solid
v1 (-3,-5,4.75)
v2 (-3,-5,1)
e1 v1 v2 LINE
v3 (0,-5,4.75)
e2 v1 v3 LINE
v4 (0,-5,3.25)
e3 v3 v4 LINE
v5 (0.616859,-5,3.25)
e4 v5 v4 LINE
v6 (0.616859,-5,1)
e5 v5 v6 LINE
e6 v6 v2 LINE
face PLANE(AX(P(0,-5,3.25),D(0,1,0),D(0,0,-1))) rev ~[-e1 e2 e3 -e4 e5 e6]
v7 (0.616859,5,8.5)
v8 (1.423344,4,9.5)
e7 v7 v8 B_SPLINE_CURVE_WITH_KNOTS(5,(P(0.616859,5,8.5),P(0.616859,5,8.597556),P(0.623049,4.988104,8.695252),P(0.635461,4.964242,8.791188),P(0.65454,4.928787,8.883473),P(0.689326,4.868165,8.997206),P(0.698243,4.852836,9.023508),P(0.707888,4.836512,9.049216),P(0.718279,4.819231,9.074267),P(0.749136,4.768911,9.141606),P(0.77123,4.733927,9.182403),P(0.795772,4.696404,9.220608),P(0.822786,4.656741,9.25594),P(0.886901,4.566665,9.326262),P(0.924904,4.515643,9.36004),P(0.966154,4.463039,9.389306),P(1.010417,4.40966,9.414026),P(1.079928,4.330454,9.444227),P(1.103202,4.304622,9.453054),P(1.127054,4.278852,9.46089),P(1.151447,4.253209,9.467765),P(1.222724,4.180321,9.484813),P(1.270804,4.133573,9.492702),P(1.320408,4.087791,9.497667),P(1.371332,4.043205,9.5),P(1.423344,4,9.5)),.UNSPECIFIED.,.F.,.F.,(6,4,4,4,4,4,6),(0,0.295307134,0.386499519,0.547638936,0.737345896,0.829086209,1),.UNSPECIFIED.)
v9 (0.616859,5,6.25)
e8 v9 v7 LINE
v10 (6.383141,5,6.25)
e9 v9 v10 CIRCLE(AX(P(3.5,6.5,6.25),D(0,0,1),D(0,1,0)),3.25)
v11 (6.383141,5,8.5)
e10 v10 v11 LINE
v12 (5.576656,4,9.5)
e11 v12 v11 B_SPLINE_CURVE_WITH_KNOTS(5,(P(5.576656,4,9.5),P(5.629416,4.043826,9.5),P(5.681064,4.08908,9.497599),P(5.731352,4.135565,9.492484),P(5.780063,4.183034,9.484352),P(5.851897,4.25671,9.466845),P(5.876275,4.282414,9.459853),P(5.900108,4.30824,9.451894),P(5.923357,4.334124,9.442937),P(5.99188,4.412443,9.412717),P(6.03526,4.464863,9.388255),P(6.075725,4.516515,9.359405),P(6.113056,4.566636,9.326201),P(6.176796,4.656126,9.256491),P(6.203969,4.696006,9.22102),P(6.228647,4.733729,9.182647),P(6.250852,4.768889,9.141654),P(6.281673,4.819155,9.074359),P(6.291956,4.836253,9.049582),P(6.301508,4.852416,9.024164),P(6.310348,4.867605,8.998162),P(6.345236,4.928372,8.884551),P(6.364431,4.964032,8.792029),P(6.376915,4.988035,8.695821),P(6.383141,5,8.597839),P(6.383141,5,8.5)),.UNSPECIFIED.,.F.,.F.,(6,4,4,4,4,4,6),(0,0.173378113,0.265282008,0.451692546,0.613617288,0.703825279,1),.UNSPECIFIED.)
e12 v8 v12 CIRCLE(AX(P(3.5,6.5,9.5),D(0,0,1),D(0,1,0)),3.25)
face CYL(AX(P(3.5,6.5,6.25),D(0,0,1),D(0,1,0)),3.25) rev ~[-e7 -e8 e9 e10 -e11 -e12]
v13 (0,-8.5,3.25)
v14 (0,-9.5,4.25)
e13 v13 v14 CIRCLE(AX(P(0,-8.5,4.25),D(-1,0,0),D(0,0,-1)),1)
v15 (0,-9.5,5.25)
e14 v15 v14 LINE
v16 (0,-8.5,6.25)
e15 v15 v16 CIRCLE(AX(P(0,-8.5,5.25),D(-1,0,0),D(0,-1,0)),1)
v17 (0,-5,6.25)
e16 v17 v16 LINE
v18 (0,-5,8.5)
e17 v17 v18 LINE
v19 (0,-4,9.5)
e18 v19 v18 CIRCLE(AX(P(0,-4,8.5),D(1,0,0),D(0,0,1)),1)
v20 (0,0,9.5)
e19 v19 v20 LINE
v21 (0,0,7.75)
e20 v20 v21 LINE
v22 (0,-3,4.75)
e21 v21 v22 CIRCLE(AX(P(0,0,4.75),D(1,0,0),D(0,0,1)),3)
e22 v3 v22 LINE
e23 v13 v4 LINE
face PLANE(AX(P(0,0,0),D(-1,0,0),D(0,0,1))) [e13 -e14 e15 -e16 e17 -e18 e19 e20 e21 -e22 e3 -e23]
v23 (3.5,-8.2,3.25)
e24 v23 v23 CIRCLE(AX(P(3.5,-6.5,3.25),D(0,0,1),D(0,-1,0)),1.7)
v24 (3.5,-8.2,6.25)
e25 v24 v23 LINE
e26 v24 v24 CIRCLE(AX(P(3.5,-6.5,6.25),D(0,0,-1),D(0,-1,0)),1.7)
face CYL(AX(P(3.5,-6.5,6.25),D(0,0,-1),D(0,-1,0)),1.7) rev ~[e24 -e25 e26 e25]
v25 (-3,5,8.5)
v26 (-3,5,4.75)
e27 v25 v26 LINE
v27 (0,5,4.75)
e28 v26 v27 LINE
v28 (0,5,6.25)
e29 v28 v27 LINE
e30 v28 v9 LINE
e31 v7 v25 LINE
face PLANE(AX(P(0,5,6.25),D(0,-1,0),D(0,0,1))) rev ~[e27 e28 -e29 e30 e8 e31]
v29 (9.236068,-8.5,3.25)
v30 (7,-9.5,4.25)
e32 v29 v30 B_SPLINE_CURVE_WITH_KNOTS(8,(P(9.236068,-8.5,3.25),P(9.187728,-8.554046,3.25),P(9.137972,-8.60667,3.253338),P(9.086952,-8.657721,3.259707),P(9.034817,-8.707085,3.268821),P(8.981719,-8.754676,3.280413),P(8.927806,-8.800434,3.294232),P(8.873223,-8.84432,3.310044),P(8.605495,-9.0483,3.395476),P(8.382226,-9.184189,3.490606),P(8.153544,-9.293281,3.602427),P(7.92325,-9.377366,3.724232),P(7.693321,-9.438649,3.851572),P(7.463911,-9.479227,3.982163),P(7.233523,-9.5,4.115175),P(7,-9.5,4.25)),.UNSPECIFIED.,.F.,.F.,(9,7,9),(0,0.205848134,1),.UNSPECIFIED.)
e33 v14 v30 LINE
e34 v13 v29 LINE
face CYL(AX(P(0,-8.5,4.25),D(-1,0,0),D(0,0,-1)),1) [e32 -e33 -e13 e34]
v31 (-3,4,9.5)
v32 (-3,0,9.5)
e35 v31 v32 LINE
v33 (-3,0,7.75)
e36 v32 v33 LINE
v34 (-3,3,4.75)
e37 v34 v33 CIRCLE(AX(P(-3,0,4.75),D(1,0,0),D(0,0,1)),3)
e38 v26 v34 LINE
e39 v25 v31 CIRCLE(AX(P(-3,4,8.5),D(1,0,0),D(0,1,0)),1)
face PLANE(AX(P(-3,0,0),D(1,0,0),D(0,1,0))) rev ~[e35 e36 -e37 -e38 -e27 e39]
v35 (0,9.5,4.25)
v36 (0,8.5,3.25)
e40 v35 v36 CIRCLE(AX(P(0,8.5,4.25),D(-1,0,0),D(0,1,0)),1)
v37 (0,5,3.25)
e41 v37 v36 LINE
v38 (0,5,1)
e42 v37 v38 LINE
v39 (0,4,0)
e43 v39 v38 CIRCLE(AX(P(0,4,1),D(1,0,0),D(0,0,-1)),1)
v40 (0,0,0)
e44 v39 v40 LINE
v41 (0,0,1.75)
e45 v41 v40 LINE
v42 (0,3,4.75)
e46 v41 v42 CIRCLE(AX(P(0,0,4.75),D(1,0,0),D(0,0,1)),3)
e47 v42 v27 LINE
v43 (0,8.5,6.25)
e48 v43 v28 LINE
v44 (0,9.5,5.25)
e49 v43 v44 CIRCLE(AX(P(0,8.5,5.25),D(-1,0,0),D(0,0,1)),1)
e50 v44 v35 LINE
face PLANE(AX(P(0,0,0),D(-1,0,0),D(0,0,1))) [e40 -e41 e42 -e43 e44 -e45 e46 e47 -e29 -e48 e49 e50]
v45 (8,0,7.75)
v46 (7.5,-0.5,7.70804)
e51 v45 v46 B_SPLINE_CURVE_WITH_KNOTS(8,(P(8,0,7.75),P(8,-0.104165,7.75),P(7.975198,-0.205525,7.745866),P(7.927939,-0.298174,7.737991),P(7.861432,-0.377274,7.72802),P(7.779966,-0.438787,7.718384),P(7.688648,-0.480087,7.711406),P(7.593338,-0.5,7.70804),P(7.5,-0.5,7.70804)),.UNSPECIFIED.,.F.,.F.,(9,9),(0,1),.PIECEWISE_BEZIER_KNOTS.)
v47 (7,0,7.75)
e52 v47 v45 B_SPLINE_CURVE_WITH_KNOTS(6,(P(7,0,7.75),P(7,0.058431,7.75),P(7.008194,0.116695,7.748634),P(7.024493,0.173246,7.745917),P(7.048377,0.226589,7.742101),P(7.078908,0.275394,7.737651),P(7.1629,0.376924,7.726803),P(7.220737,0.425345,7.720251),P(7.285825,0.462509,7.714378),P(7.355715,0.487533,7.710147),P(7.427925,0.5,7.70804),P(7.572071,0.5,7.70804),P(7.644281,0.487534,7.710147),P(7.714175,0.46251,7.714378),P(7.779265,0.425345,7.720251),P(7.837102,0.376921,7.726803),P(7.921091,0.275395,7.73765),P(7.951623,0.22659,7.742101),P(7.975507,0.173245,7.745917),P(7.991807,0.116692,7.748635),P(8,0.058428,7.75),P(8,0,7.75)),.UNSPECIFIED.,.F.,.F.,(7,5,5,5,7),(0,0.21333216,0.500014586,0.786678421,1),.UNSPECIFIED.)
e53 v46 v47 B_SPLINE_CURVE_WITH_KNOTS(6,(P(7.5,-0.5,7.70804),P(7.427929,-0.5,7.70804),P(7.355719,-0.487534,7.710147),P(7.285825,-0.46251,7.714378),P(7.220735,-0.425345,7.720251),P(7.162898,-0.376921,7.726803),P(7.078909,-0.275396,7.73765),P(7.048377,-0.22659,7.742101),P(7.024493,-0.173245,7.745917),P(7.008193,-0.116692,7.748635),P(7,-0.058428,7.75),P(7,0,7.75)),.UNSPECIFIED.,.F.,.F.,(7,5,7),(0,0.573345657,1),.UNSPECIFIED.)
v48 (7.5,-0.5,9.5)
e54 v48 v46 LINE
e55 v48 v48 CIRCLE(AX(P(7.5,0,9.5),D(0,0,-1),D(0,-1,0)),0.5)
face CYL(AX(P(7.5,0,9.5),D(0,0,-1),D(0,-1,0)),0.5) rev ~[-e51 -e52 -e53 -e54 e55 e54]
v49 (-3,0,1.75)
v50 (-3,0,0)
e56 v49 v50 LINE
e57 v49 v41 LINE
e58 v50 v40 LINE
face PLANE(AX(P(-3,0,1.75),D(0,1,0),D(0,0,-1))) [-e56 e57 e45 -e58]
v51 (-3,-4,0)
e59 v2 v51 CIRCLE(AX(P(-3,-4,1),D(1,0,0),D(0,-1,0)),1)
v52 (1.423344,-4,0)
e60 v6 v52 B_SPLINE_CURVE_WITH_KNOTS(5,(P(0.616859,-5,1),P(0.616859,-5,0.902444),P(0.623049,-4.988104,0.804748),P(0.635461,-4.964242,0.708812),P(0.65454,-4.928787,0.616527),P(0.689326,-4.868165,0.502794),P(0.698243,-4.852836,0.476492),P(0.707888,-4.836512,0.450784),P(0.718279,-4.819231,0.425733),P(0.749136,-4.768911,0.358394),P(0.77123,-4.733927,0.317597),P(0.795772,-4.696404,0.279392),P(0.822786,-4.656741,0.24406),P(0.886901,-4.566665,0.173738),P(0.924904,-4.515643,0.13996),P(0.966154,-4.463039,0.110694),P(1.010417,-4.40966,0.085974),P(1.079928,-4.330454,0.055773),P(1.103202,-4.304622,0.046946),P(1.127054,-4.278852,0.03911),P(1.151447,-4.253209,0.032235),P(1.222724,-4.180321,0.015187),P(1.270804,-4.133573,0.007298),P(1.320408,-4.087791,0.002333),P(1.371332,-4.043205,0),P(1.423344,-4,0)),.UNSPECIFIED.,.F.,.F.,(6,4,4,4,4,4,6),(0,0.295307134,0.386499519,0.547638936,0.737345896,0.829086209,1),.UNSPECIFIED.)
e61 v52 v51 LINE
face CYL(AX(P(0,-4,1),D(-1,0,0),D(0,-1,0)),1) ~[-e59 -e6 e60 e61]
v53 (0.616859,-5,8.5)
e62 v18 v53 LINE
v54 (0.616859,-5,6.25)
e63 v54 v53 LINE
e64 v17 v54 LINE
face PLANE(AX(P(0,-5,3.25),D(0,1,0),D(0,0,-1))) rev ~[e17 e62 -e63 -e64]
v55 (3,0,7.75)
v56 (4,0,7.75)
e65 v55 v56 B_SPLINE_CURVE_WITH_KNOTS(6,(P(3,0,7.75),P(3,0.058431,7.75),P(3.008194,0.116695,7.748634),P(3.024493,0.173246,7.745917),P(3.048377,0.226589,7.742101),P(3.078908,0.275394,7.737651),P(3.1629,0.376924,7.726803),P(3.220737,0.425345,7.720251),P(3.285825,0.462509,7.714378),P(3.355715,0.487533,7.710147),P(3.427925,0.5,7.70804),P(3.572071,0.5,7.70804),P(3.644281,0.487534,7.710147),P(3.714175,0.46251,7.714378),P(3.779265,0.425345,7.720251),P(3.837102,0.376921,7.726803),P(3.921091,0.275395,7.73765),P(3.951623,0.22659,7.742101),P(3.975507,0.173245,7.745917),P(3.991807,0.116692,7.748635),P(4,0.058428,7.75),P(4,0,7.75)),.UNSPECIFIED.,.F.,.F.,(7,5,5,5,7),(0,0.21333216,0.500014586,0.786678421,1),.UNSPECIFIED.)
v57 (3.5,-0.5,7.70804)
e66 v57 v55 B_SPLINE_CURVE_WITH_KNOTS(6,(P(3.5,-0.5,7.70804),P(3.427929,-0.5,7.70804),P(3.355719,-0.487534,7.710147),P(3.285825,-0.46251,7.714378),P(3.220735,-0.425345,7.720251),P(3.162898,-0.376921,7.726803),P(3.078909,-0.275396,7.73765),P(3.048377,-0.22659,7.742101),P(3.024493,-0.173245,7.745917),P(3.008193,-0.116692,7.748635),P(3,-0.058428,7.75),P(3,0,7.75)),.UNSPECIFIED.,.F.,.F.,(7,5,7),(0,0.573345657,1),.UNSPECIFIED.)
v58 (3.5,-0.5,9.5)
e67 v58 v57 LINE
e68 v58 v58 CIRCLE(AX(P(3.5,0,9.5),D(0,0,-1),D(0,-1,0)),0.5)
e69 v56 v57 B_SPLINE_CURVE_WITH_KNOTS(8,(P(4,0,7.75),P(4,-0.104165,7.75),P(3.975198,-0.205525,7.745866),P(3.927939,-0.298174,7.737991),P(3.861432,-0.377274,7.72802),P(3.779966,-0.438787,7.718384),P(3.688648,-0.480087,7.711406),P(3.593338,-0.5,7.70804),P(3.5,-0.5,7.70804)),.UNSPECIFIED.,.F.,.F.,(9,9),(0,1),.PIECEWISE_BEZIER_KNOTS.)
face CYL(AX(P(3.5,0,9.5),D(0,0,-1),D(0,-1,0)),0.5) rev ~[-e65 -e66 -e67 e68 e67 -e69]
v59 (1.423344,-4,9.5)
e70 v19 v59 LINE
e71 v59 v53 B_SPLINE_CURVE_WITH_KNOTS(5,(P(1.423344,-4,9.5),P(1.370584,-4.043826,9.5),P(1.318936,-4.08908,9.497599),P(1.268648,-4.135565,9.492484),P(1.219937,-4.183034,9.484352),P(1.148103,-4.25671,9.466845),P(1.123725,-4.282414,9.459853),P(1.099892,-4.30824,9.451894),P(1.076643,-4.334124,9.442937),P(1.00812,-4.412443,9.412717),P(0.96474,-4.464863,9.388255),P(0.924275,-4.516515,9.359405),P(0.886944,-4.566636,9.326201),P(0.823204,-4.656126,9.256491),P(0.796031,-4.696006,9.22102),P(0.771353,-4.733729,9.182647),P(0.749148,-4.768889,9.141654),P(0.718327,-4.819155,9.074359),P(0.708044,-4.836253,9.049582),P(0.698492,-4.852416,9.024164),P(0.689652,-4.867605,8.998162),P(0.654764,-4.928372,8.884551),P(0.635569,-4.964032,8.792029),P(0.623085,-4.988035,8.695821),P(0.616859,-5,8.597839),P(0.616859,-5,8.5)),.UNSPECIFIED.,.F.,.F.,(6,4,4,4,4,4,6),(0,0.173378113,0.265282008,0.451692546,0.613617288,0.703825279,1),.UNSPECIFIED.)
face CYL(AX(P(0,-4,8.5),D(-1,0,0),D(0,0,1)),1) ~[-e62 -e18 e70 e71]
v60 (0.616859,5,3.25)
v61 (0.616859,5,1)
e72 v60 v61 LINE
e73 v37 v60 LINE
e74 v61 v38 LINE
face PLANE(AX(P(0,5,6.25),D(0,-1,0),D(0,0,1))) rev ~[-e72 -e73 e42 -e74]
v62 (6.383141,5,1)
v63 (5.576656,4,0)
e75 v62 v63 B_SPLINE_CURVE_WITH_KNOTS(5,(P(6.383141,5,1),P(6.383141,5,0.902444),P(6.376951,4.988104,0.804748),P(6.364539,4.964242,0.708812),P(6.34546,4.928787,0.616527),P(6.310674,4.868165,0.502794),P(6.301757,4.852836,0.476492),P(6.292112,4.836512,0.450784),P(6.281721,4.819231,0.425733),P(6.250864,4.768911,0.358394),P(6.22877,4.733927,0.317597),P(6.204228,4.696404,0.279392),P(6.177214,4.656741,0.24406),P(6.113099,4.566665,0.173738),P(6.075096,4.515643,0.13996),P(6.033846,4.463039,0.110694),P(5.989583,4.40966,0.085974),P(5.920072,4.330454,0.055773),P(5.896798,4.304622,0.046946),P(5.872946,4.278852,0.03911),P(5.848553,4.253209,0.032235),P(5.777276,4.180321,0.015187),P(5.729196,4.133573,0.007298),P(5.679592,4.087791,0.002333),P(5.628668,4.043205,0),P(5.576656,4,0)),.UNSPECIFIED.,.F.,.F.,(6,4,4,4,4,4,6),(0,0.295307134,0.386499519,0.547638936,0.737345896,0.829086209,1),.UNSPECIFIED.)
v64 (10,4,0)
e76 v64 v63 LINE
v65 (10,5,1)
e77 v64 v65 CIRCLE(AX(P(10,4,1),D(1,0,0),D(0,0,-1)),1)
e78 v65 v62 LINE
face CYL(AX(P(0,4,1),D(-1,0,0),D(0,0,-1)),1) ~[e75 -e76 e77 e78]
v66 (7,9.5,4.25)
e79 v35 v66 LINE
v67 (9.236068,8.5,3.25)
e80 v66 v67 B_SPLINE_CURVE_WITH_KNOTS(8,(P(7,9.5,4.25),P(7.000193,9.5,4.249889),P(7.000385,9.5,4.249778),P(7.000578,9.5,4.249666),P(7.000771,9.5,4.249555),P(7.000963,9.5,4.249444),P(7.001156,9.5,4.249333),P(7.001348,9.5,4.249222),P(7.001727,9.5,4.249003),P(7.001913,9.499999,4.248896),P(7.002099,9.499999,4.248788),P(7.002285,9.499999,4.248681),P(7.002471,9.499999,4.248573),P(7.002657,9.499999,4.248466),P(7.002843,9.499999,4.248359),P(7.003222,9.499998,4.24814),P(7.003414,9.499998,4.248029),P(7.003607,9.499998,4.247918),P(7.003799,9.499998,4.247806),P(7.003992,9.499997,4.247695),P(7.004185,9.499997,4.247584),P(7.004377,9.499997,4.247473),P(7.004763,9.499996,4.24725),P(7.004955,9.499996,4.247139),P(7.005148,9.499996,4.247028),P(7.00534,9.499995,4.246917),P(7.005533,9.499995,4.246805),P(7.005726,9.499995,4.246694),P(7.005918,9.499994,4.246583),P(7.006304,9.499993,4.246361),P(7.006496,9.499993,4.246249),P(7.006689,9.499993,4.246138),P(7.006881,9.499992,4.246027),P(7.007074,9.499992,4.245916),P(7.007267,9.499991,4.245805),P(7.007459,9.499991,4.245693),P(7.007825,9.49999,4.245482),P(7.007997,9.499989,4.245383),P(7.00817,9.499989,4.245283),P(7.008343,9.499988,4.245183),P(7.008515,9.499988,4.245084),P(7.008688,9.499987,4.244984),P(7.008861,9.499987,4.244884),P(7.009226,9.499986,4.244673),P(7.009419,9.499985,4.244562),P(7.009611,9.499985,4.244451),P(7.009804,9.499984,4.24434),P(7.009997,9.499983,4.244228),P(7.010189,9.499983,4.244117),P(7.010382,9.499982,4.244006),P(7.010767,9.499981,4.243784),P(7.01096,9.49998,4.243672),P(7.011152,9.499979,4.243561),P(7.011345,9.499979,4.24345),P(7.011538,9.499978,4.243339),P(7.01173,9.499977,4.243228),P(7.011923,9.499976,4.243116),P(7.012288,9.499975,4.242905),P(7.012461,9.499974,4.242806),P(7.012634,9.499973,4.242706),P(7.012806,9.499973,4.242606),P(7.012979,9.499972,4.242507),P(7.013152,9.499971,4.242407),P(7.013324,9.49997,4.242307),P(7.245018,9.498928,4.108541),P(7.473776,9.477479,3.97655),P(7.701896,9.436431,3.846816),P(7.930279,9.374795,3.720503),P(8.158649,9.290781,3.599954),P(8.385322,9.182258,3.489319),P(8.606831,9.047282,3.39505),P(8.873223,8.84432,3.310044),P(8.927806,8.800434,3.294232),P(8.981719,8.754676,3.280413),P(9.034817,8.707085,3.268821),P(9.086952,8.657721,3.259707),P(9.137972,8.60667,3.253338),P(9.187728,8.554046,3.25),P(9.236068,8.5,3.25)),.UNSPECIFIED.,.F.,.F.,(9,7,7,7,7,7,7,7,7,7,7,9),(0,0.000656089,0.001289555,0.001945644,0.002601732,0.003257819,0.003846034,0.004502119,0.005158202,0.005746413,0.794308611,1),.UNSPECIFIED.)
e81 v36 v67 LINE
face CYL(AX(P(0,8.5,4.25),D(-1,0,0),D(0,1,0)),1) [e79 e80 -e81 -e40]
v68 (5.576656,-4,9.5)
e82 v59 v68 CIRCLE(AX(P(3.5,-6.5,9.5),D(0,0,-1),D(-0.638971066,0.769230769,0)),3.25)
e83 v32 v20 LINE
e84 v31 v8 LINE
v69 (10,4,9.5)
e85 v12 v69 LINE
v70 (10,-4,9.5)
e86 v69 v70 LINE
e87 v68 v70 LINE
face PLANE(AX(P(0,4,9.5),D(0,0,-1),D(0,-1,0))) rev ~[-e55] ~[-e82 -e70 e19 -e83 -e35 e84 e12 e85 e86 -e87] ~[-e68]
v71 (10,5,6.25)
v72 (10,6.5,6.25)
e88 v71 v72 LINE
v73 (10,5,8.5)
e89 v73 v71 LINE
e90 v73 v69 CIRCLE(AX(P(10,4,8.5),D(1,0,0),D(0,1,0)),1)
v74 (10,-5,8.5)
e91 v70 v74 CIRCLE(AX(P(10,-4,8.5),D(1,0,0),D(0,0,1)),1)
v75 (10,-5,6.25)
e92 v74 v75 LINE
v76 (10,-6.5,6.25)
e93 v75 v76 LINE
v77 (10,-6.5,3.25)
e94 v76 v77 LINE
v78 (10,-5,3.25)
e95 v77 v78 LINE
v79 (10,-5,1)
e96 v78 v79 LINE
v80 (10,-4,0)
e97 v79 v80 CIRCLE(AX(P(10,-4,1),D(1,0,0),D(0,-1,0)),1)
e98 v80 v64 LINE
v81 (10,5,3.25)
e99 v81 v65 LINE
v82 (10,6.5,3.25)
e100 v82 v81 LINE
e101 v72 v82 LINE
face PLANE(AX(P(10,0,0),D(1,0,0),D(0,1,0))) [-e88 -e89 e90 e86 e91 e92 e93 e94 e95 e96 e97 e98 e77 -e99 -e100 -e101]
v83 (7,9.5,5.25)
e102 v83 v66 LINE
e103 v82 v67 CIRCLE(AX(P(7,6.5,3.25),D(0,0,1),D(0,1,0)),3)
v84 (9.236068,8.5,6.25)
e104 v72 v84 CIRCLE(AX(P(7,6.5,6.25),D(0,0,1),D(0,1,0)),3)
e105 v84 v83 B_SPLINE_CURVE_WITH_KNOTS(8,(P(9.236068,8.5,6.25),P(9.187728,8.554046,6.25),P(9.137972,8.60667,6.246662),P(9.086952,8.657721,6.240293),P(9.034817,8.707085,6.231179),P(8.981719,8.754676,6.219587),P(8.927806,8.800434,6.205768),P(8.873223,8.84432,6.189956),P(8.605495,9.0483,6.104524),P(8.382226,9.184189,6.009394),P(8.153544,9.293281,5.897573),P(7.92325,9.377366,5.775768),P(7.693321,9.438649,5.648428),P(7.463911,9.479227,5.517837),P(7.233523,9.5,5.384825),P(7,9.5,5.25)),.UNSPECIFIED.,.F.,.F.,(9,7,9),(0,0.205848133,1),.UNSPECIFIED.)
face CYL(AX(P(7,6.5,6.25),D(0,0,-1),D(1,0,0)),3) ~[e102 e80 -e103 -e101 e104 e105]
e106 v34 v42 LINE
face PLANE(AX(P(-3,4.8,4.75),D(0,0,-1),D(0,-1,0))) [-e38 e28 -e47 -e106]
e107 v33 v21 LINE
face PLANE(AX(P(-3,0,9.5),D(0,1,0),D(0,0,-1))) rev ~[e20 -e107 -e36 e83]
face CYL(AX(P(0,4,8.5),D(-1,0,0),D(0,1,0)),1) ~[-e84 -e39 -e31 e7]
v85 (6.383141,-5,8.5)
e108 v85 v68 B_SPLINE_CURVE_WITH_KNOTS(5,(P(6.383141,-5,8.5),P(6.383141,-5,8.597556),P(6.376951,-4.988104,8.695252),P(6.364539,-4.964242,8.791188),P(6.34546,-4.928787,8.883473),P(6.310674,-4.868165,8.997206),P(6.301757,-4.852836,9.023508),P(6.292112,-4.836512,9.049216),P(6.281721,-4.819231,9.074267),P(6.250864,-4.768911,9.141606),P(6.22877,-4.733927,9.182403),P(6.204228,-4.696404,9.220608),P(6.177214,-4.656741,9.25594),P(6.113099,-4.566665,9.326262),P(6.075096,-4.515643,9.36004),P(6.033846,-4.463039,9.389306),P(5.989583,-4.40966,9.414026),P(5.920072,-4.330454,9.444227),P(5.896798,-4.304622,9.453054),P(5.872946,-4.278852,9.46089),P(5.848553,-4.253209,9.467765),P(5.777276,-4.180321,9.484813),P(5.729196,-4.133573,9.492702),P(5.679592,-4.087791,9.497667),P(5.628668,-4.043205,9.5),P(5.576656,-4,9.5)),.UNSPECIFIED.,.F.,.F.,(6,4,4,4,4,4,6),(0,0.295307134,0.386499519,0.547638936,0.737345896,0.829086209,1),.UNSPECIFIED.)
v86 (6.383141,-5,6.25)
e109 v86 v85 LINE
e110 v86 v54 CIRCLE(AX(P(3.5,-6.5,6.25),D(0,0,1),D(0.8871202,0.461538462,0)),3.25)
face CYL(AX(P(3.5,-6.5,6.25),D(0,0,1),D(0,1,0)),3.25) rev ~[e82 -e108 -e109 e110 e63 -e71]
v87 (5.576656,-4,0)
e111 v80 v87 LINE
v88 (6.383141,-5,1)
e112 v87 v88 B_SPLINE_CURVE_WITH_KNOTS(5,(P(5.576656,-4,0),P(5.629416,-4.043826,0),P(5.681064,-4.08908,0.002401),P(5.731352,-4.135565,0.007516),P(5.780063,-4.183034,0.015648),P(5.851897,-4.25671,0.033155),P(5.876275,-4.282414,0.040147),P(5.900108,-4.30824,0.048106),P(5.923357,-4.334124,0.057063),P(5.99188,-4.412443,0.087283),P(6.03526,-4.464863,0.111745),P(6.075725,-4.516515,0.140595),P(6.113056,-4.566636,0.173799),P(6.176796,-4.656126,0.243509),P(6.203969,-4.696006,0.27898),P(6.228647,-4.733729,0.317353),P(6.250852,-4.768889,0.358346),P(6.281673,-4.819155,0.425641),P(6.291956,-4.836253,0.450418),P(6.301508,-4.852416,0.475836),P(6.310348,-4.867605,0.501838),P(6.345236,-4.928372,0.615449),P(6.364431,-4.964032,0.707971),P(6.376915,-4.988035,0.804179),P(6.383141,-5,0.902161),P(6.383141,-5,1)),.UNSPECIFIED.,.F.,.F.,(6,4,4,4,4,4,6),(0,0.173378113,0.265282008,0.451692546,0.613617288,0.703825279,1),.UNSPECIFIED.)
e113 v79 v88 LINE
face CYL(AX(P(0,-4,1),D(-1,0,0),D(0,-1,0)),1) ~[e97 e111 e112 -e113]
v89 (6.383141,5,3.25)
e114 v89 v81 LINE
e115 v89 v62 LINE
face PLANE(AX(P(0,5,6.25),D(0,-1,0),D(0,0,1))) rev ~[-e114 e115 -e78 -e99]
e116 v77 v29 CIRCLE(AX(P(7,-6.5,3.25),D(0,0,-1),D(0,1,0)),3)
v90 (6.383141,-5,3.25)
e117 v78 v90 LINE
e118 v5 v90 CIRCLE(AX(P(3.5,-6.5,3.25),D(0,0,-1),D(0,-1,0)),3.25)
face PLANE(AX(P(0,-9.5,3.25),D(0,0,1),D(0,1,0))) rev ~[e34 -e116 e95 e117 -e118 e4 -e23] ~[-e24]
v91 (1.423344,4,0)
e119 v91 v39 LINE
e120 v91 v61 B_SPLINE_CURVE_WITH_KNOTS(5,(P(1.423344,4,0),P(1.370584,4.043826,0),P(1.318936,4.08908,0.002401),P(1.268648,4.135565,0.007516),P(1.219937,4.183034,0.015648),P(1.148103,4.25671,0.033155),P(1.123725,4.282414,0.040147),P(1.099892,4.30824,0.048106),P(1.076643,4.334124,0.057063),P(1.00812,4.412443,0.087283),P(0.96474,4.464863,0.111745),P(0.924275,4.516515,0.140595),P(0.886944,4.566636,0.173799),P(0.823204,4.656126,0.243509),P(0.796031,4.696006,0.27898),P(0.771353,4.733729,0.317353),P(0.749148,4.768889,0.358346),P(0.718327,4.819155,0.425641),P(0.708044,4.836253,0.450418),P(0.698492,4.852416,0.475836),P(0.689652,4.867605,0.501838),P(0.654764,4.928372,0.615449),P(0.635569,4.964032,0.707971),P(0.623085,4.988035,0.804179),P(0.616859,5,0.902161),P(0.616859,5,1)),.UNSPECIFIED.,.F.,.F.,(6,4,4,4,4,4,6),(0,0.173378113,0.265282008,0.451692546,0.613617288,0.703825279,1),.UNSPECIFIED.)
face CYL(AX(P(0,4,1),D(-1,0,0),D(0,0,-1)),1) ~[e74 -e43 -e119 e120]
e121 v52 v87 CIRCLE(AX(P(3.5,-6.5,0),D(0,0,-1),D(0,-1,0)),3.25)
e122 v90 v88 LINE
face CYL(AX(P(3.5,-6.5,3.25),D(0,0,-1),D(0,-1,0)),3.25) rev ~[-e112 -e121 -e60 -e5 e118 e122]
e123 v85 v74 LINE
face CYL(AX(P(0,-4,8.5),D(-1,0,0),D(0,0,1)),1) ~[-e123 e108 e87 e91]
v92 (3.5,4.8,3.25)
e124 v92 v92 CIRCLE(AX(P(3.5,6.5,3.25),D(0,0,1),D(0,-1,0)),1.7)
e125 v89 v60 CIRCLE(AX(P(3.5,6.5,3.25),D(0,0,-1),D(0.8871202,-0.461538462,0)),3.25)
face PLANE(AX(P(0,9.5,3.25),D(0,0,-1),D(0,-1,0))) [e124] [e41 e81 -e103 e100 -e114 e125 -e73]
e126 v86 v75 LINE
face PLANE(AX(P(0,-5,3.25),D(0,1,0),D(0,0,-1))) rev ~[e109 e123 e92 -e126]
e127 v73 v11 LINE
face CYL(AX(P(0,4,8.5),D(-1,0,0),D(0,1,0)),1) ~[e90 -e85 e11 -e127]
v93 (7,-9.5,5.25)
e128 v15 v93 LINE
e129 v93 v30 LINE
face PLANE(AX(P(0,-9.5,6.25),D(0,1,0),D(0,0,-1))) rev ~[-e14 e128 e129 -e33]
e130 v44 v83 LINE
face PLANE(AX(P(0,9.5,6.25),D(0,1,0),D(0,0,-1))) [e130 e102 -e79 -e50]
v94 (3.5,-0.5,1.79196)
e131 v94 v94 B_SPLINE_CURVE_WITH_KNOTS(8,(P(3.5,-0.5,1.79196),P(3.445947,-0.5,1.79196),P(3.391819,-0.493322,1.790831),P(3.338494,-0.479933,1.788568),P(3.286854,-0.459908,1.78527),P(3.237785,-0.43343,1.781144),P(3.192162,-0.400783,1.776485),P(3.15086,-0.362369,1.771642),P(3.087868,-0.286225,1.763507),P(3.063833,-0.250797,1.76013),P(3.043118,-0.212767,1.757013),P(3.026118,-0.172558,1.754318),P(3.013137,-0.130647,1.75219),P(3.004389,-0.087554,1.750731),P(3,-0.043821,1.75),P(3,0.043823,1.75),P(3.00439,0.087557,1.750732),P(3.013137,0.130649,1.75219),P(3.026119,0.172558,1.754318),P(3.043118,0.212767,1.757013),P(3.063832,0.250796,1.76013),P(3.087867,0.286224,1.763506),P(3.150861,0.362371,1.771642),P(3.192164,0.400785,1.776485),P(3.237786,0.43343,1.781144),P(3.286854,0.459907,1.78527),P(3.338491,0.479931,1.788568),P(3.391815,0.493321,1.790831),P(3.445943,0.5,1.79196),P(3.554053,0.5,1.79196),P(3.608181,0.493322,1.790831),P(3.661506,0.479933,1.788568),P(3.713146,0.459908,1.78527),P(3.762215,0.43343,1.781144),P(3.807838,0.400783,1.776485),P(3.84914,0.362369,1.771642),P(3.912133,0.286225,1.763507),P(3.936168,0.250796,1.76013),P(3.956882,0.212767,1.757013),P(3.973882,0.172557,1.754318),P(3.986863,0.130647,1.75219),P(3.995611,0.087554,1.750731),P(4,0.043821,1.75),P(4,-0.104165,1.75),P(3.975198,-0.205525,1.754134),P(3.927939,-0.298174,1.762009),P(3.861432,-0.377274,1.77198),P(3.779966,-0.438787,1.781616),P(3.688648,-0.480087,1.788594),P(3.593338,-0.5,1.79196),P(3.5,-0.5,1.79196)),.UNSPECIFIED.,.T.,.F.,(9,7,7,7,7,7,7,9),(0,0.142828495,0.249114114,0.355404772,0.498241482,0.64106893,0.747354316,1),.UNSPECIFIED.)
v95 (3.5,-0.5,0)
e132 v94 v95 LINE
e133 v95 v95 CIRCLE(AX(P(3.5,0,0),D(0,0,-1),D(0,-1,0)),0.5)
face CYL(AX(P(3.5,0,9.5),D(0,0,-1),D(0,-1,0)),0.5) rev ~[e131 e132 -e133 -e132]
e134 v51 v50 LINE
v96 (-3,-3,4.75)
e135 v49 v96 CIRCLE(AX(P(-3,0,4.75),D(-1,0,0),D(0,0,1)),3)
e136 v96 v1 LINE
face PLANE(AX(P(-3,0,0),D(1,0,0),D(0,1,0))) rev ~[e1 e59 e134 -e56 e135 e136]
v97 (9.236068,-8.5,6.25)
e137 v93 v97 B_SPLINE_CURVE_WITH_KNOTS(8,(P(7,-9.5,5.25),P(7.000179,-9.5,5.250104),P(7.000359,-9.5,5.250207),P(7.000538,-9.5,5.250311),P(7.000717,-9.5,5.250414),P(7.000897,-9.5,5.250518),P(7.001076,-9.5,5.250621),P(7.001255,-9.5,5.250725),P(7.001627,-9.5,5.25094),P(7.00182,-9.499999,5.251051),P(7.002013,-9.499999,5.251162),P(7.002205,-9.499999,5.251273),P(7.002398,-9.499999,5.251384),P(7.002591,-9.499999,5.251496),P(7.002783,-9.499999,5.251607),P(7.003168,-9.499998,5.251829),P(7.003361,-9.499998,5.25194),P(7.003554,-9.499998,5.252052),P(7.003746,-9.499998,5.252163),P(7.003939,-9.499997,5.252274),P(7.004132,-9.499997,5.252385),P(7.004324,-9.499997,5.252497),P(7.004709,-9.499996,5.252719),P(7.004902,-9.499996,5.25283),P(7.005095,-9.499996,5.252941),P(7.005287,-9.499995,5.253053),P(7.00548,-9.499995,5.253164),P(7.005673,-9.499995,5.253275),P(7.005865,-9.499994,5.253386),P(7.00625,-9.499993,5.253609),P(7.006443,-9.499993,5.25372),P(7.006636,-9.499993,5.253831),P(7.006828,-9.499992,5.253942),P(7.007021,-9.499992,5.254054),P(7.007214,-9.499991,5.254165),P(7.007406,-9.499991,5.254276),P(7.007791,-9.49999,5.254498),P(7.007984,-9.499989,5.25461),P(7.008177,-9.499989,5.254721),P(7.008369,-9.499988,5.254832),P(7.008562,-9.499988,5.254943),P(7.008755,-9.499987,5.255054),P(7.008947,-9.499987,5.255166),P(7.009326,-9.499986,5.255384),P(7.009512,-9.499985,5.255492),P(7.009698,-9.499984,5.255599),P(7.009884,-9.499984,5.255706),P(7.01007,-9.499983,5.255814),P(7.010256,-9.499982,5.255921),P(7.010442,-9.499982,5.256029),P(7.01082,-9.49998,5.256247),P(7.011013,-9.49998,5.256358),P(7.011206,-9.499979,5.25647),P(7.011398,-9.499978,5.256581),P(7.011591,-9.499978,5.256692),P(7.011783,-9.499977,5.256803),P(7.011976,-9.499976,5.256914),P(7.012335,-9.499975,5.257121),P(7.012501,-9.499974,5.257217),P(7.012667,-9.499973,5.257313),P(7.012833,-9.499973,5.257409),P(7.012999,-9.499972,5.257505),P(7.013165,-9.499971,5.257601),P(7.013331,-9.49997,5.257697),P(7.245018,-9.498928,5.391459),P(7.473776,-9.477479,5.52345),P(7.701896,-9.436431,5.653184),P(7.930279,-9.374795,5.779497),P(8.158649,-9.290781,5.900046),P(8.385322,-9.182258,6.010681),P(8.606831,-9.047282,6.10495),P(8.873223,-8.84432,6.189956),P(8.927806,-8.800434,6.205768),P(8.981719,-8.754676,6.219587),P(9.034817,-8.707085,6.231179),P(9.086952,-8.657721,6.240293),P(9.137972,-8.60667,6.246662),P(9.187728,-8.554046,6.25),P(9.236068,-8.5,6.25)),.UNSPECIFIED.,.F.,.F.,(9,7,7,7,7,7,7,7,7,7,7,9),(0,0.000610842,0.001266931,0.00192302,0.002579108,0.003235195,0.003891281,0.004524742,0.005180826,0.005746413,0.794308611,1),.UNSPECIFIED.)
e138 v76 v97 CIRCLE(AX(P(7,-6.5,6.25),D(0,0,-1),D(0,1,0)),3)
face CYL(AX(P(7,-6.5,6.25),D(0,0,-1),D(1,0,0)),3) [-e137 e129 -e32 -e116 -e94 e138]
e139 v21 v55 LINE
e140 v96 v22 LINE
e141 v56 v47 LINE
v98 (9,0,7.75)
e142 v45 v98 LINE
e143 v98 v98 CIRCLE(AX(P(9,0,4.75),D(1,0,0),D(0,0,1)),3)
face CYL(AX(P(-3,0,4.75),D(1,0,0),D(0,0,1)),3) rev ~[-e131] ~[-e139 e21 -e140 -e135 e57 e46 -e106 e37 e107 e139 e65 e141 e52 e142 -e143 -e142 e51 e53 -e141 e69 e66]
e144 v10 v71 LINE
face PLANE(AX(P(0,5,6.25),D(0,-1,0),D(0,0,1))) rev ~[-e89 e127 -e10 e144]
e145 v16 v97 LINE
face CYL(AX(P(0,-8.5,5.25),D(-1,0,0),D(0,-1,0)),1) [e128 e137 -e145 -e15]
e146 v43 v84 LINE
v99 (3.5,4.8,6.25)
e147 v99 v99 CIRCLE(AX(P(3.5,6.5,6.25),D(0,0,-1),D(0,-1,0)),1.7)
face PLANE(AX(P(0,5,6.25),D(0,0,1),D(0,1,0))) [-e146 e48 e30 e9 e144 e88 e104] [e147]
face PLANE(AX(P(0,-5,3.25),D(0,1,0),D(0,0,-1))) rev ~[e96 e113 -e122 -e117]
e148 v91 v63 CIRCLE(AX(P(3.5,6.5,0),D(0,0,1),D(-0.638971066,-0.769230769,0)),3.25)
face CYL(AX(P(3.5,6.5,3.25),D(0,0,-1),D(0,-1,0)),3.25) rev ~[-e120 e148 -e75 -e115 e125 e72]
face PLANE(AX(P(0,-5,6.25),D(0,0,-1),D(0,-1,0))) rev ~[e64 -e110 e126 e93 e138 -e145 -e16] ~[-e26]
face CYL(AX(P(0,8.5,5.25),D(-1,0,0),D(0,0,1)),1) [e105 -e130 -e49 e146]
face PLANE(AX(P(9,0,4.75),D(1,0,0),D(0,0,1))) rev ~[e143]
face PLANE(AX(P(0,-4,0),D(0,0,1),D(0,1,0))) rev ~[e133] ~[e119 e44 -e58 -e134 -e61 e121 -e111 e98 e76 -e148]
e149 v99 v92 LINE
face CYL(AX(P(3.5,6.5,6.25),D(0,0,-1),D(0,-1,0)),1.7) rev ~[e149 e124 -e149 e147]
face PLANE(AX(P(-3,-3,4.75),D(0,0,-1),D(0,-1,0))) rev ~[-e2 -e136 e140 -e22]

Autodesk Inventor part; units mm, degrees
ref_plane "YZ Plane" through (0, 0, 0) normal (1, 0, 0) x (0, 1, 0)
ref_plane "XZ Plane" through (0, 0, 0) normal (0, 1, 0) x (-1, 0, 0)
ref_plane "XY Plane" through (0, 0, 0) normal (0, 0, 1) x (1, 0, 0)
sketch "Skizze3" plane through (0, 0, 0) normal (1, 0, 0) x (0, 1, 0)
  line L0 (4, 9.5) -> (-4, 9.5)
  line L1 (-5, 8.5) -> (-5, 1)
  line L2 (-4, 0) -> (4, 0)
  line L3 (5, 1) -> (5, 8.5)
  arc A0 (5, 8.5) -> (4, 9.5) centre (4, 8.5) ccw
  arc A1 (-4, 9.5) -> (-5, 8.5) centre (-4, 8.5) ccw
  arc A2 (-5, 1) -> (-4, 0) centre (-4, 1) ccw
  arc A3 (4, 0) -> (5, 1) centre (4, 1) ccw
  line L4 (-5, 6.25) -> (-9.5, 6.25)
  line L5 (-9.5, 6.25) -> (-9.5, 3.25)
  line L6 (-9.5, 3.25) -> (-5, 3.25)
  line L7 (5, 6.25) -> (9.5, 6.25)
  line L8 (9.5, 6.25) -> (9.5, 3.25)
  line L9 (9.5, 3.25) -> (5, 3.25)
  point P0 (-5, 0)
  point P1 (-5, 9.5)
  point P2 (5, 0)
  point P3 (0, 0)
  point P4 (0, 0)
  point P5 (-9.5, 4.75)
  point P6 (-5, 4.75)
  point P7 (9.5, 4.75)
  point P8 (5, 4.75)
  dimension "d12" = 10
  dimension "d13" = 9.5
  dimension "d14" = 1
  dimension "d83" = 4.5
  dimension "d84" = 3
extrude "Extrusion3" add sketch "Skizze3" along normal blind 10 and the other way blind 3 contours A0 L3 A3 L2 A2 L1 A1 L0
extrude "Extrusion4" add sketch "Skizze3" along normal blind 10 and the other way blind 3 contours L7 L8 L9 L3 | L1 L6 L5 L4
fillet "Rundung1" radius 3 4 edges at (-3, -9.5, 4.75) (10, -9.5, 4.75) (10, 9.5, 4.75) (-3, 9.5, 4.75)
sketch "Skizze5" plane through (-3, 0, 0) normal (-1, 0, 0) x (0, 0, 1)
  line L0 (1, -5) -> (8.5, -5) projected
  line L1 (9.5, -4) -> (9.5, 4) projected
  point P0 (0, 0)
  point P1 (4.75, 0)
  point P2 (4.75, -5)
  point P3 (9.5, 0)
hole "Bohrung3" at (-3, 0, 4.75) direction (1, 0, 0) diameter 6 depth 12
sketch "Skizze6" plane through (-3, -4, 9.5) normal (0, 0, 1) x (1, 0, 0)
  line L0 (0, 0) -> (0, 8) projected
  point P0 (3, 4)
  point P1 (3, 4)
  point P2 (0, 8)
  point P3 (0, 4)
  point P4 (0, 4)
  dimension "d41" = 3
sketch "Skizze7" plane through (-3, -4, 9.5) normal (0, 0, 1) x (1, 0, 0)
  line L0 (13, 8) -> (13, 0) projected
  line L1 (0, 0) -> (0, 8) projected
  line L2 (12, 7) -> (12, 1) projected
  point P0 (6.5, 4)
  point P1 (13, 4)
  dimension "d122" = 5.5
hole "Bohrung5" at (3.5, 0, 9.5) direction (0, 0, -1) diameter 1 end through all
sketch "Skizze9" plane through (0, -5, 6.25) normal (0, 0, 1) x (1, 0, 0)
  arc A0 (-3, -1.5) -> (0, -4.5) centre (0, -1.5) ccw projected
  line L0 (-3, 0) -> (10, 0) projected
  arc A1 (0, 14.5) -> (-3, 11.5) centre (0, 11.5) ccw projected
  line L1 (10, 10) -> (-3, 10) projected
  line L2 (-3, 10) -> (-3, 11.5) projected
  line L3 (10, 11.5) -> (10, 10) projected
  line L4 (10, 0) -> (10, -1.5) projected
  line L5 (-3, -1.5) -> (-3, 0) projected
  arc A2 (10, 11.5) -> (7, 14.5) centre (7, 11.5) ccw projected
  line L6 (7, 14.5) -> (0, 14.5) projected
  line L7 (0, -4.5) -> (7, -4.5) projected
  arc A3 (7, -4.5) -> (10, -1.5) centre (7, -1.5) ccw projected
  point P0 (0, 5)
  point P1 (3.5, -1.5)
  point P2 (3.5, 11.5)
  point P3 (3.5, 14.5)
  point P4 (3.5, -4.5)
hole "Bohrung6" at (3.5, 6.5, 6.25) at (3.5, -6.5, 6.25) direction (0, 0, -1) diameter 3.4 end through all clearance for "Inbusschraube DIN EN ISO 4762" size "M3" standard "DIN"
hole "Bohrung7" at (3.5, -6.5, 6.25) at (3.5, 6.5, 6.25) direction (0, 0, 1) diameter 3.4 end through all counterbore diameter 6.5 counterbore depth 3.4 clearance for "Inbusschraube DIN EN ISO 4762" size "M3" standard "DIN"
sketch "Skizze10" plane through (10, -5, 3.25) normal (0, 0, -1) x (-1, 0, 0)
  arc A0 (5.7, 0) -> (7.3, 0) centre (6.5, -1.5) ccw projected
  arc A1 (7.3, 10) -> (5.7, 10) centre (6.5, 11.5) ccw projected
  point P0 (10, 5)
hole "Bohrung8" at (3.5, -6.5, 3.25) at (3.5, 6.5, 3.25) direction (0, 0, -1) diameter 3.4 end through all counterbore diameter 6.5 counterbore depth 3.4 clearance for "Inbusschraube DIN EN ISO 4762" size "M3" standard "DIN"
sketch "Skizze11" plane through (-3, 0, 0) normal (-1, 0, 0) x (0, 0, 1)
  circle A0 centre (4.75, 0) radius 3 projected
  line L0 (3.25, 6.5) -> (6.25, 6.5) projected
  line L1 (3.25, 6.5) -> (3.25, 5) projected
  line L2 (3.25, 5) -> (1, 5) projected
  arc A1 (1, 5) -> (0, 4) centre (1, 4) ccw projected
  line L3 (0, 4) -> (0, -4) projected
  arc A2 (0, -4) -> (1, -5) centre (1, -4) ccw projected
  line L4 (1, -5) -> (3.25, -5) projected
  line L5 (3.25, -5) -> (3.25, -6.5) projected
  line L6 (6.25, -6.5) -> (3.25, -6.5) projected
  line L7 (6.25, -6.5) -> (6.25, -5) projected
  line L8 (6.25, -5) -> (8.5, -5) projected
  arc A3 (8.5, -5) -> (9.5, -4) centre (8.5, -4) ccw projected
  line L9 (9.5, -4) -> (9.5, 4) projected
  arc A4 (9.5, 4) -> (8.5, 5) centre (8.5, 4) ccw projected
  line L10 (8.5, 5) -> (6.25, 5) projected
  line L11 (6.25, 5) -> (6.25, 6.5) projected
  line L12 (6.25, 5) -> (3.25, 5)
  line L13 (0.4, 4.8) -> (9.1, 4.8) projected
  line L14 (6.25, -3.25) -> (6.25, -5) projected
  line L15 (6.25, -5) -> (3.25, -5)
  line L16 (0.4, -4.8) -> (9.1, -4.8) projected
  line L17 (9.5, -4) -> (9.5, 4) projected
  line L18 (9.5, 0) -> (0, 0)
  line L19 (3.25, 9.5) -> (3.25, 6.5) projected
  line L20 (3.25, 6.5) -> (6.25, 6.5) projected
  line L21 (6.25, 6.5) -> (6.25, 9.5) projected
  line L22 (6.25, 9.5) -> (3.25, 9.5) projected
  line L23 (6.25, -9.5) -> (6.25, -6.5) projected
  line L24 (6.25, -6.5) -> (3.25, -6.5) projected
  line L25 (3.25, -6.5) -> (3.25, -9.5) projected
  line L26 (3.25, -9.5) -> (6.25, -9.5) projected
  line L27 (4.75, 5) -> (4.75, -5)
  point P0 (9.1757, 4.7372)
  point P1 (0.3243, -4.7372)
  point P2 (1.75, 0)
  point P3 (7.75, 0)
  point P4 (4.75, 3)
  point P5 (4.75, -3)
extrude "Extrusion7" cut sketch "Skizze11" against normal blind 3 contours L18 L27 A0 | L18 L9 A3 L16 L27 A0 | A0 L27 L18 | L27 L18 A0 | A0 L18 L3 A1 L13 L27 | A0 L18 L27 | L13 A1 L2 L12 L27 | L16 L14 L15 L27 | L12 L1 L0 L11 | L16 A3 L8 L14 | L15 L7 L6 L5 | L0 L19 L22 L21 | L23 L26 L25 L6
sketch "Skizze12" plane through (-3, 4, 9.5) normal (0, 0, 1) x (1, 0, 0)
  line L0 (12, -1) -> (12, -7) projected
  point P0 (3, -4)
  point P1 (10.5, -4)
  point P2 (12, -4)
  dimension "d113" = 1.5
hole "Bohrung9" at (7.5, 0, 9.5) direction (0, 0, -1) diameter 1 depth 3.25
sketch "Skizze13" plane through (0, 0, 0) normal (-1, 0, 0) x (0, 0, 1)
  line L0 (3.25, 9.5) -> (6.25, 9.5) projected
  line L1 (5.25, 9.5) -> (4.25, 9.5)
  line L2 (3.25, 8.5) -> (3.25, 5)
  line L3 (6.25, 8.5) -> (6.25, 5)
  line L4 (6.25, -5) -> (6.25, -8.5)
  line L5 (3.25, -9.5) -> (6.25, -9.5) projected
  line L6 (5.25, -9.5) -> (4.25, -9.5)
  line L7 (3.25, -8.5) -> (3.25, -5)
  line L8 (3.25, -8.2) -> (3.25, -4.8) projected
  arc A0 (6.25, 8.5) -> (5.25, 9.5) centre (5.25, 8.5) ccw
  arc A1 (4.25, 9.5) -> (3.25, 8.5) centre (4.25, 8.5) ccw
  arc A2 (3.25, -8.5) -> (4.25, -9.5) centre (4.25, -8.5) ccw
  arc A3 (5.25, -9.5) -> (6.25, -8.5) centre (5.25, -8.5) ccw
  line L9 (6.25, 9.5) -> (6.25, 5) projected
  line L10 (3.25, 5) -> (3.25, 9.5) projected
  line L11 (6.25, -5) -> (6.25, -9.5) projected
  line L12 (3.25, -9.5) -> (3.25, -5) projected
  point P0 (0, 0)
  point P1 (5.25, 9.5)
  point P2 (4.25, 9.5)
  dimension "d123" = 1
extrude "Extrusion8" cut sketch "Skizze13" against normal through all
properties part number "BT015_huenin20_23" material "E360"
